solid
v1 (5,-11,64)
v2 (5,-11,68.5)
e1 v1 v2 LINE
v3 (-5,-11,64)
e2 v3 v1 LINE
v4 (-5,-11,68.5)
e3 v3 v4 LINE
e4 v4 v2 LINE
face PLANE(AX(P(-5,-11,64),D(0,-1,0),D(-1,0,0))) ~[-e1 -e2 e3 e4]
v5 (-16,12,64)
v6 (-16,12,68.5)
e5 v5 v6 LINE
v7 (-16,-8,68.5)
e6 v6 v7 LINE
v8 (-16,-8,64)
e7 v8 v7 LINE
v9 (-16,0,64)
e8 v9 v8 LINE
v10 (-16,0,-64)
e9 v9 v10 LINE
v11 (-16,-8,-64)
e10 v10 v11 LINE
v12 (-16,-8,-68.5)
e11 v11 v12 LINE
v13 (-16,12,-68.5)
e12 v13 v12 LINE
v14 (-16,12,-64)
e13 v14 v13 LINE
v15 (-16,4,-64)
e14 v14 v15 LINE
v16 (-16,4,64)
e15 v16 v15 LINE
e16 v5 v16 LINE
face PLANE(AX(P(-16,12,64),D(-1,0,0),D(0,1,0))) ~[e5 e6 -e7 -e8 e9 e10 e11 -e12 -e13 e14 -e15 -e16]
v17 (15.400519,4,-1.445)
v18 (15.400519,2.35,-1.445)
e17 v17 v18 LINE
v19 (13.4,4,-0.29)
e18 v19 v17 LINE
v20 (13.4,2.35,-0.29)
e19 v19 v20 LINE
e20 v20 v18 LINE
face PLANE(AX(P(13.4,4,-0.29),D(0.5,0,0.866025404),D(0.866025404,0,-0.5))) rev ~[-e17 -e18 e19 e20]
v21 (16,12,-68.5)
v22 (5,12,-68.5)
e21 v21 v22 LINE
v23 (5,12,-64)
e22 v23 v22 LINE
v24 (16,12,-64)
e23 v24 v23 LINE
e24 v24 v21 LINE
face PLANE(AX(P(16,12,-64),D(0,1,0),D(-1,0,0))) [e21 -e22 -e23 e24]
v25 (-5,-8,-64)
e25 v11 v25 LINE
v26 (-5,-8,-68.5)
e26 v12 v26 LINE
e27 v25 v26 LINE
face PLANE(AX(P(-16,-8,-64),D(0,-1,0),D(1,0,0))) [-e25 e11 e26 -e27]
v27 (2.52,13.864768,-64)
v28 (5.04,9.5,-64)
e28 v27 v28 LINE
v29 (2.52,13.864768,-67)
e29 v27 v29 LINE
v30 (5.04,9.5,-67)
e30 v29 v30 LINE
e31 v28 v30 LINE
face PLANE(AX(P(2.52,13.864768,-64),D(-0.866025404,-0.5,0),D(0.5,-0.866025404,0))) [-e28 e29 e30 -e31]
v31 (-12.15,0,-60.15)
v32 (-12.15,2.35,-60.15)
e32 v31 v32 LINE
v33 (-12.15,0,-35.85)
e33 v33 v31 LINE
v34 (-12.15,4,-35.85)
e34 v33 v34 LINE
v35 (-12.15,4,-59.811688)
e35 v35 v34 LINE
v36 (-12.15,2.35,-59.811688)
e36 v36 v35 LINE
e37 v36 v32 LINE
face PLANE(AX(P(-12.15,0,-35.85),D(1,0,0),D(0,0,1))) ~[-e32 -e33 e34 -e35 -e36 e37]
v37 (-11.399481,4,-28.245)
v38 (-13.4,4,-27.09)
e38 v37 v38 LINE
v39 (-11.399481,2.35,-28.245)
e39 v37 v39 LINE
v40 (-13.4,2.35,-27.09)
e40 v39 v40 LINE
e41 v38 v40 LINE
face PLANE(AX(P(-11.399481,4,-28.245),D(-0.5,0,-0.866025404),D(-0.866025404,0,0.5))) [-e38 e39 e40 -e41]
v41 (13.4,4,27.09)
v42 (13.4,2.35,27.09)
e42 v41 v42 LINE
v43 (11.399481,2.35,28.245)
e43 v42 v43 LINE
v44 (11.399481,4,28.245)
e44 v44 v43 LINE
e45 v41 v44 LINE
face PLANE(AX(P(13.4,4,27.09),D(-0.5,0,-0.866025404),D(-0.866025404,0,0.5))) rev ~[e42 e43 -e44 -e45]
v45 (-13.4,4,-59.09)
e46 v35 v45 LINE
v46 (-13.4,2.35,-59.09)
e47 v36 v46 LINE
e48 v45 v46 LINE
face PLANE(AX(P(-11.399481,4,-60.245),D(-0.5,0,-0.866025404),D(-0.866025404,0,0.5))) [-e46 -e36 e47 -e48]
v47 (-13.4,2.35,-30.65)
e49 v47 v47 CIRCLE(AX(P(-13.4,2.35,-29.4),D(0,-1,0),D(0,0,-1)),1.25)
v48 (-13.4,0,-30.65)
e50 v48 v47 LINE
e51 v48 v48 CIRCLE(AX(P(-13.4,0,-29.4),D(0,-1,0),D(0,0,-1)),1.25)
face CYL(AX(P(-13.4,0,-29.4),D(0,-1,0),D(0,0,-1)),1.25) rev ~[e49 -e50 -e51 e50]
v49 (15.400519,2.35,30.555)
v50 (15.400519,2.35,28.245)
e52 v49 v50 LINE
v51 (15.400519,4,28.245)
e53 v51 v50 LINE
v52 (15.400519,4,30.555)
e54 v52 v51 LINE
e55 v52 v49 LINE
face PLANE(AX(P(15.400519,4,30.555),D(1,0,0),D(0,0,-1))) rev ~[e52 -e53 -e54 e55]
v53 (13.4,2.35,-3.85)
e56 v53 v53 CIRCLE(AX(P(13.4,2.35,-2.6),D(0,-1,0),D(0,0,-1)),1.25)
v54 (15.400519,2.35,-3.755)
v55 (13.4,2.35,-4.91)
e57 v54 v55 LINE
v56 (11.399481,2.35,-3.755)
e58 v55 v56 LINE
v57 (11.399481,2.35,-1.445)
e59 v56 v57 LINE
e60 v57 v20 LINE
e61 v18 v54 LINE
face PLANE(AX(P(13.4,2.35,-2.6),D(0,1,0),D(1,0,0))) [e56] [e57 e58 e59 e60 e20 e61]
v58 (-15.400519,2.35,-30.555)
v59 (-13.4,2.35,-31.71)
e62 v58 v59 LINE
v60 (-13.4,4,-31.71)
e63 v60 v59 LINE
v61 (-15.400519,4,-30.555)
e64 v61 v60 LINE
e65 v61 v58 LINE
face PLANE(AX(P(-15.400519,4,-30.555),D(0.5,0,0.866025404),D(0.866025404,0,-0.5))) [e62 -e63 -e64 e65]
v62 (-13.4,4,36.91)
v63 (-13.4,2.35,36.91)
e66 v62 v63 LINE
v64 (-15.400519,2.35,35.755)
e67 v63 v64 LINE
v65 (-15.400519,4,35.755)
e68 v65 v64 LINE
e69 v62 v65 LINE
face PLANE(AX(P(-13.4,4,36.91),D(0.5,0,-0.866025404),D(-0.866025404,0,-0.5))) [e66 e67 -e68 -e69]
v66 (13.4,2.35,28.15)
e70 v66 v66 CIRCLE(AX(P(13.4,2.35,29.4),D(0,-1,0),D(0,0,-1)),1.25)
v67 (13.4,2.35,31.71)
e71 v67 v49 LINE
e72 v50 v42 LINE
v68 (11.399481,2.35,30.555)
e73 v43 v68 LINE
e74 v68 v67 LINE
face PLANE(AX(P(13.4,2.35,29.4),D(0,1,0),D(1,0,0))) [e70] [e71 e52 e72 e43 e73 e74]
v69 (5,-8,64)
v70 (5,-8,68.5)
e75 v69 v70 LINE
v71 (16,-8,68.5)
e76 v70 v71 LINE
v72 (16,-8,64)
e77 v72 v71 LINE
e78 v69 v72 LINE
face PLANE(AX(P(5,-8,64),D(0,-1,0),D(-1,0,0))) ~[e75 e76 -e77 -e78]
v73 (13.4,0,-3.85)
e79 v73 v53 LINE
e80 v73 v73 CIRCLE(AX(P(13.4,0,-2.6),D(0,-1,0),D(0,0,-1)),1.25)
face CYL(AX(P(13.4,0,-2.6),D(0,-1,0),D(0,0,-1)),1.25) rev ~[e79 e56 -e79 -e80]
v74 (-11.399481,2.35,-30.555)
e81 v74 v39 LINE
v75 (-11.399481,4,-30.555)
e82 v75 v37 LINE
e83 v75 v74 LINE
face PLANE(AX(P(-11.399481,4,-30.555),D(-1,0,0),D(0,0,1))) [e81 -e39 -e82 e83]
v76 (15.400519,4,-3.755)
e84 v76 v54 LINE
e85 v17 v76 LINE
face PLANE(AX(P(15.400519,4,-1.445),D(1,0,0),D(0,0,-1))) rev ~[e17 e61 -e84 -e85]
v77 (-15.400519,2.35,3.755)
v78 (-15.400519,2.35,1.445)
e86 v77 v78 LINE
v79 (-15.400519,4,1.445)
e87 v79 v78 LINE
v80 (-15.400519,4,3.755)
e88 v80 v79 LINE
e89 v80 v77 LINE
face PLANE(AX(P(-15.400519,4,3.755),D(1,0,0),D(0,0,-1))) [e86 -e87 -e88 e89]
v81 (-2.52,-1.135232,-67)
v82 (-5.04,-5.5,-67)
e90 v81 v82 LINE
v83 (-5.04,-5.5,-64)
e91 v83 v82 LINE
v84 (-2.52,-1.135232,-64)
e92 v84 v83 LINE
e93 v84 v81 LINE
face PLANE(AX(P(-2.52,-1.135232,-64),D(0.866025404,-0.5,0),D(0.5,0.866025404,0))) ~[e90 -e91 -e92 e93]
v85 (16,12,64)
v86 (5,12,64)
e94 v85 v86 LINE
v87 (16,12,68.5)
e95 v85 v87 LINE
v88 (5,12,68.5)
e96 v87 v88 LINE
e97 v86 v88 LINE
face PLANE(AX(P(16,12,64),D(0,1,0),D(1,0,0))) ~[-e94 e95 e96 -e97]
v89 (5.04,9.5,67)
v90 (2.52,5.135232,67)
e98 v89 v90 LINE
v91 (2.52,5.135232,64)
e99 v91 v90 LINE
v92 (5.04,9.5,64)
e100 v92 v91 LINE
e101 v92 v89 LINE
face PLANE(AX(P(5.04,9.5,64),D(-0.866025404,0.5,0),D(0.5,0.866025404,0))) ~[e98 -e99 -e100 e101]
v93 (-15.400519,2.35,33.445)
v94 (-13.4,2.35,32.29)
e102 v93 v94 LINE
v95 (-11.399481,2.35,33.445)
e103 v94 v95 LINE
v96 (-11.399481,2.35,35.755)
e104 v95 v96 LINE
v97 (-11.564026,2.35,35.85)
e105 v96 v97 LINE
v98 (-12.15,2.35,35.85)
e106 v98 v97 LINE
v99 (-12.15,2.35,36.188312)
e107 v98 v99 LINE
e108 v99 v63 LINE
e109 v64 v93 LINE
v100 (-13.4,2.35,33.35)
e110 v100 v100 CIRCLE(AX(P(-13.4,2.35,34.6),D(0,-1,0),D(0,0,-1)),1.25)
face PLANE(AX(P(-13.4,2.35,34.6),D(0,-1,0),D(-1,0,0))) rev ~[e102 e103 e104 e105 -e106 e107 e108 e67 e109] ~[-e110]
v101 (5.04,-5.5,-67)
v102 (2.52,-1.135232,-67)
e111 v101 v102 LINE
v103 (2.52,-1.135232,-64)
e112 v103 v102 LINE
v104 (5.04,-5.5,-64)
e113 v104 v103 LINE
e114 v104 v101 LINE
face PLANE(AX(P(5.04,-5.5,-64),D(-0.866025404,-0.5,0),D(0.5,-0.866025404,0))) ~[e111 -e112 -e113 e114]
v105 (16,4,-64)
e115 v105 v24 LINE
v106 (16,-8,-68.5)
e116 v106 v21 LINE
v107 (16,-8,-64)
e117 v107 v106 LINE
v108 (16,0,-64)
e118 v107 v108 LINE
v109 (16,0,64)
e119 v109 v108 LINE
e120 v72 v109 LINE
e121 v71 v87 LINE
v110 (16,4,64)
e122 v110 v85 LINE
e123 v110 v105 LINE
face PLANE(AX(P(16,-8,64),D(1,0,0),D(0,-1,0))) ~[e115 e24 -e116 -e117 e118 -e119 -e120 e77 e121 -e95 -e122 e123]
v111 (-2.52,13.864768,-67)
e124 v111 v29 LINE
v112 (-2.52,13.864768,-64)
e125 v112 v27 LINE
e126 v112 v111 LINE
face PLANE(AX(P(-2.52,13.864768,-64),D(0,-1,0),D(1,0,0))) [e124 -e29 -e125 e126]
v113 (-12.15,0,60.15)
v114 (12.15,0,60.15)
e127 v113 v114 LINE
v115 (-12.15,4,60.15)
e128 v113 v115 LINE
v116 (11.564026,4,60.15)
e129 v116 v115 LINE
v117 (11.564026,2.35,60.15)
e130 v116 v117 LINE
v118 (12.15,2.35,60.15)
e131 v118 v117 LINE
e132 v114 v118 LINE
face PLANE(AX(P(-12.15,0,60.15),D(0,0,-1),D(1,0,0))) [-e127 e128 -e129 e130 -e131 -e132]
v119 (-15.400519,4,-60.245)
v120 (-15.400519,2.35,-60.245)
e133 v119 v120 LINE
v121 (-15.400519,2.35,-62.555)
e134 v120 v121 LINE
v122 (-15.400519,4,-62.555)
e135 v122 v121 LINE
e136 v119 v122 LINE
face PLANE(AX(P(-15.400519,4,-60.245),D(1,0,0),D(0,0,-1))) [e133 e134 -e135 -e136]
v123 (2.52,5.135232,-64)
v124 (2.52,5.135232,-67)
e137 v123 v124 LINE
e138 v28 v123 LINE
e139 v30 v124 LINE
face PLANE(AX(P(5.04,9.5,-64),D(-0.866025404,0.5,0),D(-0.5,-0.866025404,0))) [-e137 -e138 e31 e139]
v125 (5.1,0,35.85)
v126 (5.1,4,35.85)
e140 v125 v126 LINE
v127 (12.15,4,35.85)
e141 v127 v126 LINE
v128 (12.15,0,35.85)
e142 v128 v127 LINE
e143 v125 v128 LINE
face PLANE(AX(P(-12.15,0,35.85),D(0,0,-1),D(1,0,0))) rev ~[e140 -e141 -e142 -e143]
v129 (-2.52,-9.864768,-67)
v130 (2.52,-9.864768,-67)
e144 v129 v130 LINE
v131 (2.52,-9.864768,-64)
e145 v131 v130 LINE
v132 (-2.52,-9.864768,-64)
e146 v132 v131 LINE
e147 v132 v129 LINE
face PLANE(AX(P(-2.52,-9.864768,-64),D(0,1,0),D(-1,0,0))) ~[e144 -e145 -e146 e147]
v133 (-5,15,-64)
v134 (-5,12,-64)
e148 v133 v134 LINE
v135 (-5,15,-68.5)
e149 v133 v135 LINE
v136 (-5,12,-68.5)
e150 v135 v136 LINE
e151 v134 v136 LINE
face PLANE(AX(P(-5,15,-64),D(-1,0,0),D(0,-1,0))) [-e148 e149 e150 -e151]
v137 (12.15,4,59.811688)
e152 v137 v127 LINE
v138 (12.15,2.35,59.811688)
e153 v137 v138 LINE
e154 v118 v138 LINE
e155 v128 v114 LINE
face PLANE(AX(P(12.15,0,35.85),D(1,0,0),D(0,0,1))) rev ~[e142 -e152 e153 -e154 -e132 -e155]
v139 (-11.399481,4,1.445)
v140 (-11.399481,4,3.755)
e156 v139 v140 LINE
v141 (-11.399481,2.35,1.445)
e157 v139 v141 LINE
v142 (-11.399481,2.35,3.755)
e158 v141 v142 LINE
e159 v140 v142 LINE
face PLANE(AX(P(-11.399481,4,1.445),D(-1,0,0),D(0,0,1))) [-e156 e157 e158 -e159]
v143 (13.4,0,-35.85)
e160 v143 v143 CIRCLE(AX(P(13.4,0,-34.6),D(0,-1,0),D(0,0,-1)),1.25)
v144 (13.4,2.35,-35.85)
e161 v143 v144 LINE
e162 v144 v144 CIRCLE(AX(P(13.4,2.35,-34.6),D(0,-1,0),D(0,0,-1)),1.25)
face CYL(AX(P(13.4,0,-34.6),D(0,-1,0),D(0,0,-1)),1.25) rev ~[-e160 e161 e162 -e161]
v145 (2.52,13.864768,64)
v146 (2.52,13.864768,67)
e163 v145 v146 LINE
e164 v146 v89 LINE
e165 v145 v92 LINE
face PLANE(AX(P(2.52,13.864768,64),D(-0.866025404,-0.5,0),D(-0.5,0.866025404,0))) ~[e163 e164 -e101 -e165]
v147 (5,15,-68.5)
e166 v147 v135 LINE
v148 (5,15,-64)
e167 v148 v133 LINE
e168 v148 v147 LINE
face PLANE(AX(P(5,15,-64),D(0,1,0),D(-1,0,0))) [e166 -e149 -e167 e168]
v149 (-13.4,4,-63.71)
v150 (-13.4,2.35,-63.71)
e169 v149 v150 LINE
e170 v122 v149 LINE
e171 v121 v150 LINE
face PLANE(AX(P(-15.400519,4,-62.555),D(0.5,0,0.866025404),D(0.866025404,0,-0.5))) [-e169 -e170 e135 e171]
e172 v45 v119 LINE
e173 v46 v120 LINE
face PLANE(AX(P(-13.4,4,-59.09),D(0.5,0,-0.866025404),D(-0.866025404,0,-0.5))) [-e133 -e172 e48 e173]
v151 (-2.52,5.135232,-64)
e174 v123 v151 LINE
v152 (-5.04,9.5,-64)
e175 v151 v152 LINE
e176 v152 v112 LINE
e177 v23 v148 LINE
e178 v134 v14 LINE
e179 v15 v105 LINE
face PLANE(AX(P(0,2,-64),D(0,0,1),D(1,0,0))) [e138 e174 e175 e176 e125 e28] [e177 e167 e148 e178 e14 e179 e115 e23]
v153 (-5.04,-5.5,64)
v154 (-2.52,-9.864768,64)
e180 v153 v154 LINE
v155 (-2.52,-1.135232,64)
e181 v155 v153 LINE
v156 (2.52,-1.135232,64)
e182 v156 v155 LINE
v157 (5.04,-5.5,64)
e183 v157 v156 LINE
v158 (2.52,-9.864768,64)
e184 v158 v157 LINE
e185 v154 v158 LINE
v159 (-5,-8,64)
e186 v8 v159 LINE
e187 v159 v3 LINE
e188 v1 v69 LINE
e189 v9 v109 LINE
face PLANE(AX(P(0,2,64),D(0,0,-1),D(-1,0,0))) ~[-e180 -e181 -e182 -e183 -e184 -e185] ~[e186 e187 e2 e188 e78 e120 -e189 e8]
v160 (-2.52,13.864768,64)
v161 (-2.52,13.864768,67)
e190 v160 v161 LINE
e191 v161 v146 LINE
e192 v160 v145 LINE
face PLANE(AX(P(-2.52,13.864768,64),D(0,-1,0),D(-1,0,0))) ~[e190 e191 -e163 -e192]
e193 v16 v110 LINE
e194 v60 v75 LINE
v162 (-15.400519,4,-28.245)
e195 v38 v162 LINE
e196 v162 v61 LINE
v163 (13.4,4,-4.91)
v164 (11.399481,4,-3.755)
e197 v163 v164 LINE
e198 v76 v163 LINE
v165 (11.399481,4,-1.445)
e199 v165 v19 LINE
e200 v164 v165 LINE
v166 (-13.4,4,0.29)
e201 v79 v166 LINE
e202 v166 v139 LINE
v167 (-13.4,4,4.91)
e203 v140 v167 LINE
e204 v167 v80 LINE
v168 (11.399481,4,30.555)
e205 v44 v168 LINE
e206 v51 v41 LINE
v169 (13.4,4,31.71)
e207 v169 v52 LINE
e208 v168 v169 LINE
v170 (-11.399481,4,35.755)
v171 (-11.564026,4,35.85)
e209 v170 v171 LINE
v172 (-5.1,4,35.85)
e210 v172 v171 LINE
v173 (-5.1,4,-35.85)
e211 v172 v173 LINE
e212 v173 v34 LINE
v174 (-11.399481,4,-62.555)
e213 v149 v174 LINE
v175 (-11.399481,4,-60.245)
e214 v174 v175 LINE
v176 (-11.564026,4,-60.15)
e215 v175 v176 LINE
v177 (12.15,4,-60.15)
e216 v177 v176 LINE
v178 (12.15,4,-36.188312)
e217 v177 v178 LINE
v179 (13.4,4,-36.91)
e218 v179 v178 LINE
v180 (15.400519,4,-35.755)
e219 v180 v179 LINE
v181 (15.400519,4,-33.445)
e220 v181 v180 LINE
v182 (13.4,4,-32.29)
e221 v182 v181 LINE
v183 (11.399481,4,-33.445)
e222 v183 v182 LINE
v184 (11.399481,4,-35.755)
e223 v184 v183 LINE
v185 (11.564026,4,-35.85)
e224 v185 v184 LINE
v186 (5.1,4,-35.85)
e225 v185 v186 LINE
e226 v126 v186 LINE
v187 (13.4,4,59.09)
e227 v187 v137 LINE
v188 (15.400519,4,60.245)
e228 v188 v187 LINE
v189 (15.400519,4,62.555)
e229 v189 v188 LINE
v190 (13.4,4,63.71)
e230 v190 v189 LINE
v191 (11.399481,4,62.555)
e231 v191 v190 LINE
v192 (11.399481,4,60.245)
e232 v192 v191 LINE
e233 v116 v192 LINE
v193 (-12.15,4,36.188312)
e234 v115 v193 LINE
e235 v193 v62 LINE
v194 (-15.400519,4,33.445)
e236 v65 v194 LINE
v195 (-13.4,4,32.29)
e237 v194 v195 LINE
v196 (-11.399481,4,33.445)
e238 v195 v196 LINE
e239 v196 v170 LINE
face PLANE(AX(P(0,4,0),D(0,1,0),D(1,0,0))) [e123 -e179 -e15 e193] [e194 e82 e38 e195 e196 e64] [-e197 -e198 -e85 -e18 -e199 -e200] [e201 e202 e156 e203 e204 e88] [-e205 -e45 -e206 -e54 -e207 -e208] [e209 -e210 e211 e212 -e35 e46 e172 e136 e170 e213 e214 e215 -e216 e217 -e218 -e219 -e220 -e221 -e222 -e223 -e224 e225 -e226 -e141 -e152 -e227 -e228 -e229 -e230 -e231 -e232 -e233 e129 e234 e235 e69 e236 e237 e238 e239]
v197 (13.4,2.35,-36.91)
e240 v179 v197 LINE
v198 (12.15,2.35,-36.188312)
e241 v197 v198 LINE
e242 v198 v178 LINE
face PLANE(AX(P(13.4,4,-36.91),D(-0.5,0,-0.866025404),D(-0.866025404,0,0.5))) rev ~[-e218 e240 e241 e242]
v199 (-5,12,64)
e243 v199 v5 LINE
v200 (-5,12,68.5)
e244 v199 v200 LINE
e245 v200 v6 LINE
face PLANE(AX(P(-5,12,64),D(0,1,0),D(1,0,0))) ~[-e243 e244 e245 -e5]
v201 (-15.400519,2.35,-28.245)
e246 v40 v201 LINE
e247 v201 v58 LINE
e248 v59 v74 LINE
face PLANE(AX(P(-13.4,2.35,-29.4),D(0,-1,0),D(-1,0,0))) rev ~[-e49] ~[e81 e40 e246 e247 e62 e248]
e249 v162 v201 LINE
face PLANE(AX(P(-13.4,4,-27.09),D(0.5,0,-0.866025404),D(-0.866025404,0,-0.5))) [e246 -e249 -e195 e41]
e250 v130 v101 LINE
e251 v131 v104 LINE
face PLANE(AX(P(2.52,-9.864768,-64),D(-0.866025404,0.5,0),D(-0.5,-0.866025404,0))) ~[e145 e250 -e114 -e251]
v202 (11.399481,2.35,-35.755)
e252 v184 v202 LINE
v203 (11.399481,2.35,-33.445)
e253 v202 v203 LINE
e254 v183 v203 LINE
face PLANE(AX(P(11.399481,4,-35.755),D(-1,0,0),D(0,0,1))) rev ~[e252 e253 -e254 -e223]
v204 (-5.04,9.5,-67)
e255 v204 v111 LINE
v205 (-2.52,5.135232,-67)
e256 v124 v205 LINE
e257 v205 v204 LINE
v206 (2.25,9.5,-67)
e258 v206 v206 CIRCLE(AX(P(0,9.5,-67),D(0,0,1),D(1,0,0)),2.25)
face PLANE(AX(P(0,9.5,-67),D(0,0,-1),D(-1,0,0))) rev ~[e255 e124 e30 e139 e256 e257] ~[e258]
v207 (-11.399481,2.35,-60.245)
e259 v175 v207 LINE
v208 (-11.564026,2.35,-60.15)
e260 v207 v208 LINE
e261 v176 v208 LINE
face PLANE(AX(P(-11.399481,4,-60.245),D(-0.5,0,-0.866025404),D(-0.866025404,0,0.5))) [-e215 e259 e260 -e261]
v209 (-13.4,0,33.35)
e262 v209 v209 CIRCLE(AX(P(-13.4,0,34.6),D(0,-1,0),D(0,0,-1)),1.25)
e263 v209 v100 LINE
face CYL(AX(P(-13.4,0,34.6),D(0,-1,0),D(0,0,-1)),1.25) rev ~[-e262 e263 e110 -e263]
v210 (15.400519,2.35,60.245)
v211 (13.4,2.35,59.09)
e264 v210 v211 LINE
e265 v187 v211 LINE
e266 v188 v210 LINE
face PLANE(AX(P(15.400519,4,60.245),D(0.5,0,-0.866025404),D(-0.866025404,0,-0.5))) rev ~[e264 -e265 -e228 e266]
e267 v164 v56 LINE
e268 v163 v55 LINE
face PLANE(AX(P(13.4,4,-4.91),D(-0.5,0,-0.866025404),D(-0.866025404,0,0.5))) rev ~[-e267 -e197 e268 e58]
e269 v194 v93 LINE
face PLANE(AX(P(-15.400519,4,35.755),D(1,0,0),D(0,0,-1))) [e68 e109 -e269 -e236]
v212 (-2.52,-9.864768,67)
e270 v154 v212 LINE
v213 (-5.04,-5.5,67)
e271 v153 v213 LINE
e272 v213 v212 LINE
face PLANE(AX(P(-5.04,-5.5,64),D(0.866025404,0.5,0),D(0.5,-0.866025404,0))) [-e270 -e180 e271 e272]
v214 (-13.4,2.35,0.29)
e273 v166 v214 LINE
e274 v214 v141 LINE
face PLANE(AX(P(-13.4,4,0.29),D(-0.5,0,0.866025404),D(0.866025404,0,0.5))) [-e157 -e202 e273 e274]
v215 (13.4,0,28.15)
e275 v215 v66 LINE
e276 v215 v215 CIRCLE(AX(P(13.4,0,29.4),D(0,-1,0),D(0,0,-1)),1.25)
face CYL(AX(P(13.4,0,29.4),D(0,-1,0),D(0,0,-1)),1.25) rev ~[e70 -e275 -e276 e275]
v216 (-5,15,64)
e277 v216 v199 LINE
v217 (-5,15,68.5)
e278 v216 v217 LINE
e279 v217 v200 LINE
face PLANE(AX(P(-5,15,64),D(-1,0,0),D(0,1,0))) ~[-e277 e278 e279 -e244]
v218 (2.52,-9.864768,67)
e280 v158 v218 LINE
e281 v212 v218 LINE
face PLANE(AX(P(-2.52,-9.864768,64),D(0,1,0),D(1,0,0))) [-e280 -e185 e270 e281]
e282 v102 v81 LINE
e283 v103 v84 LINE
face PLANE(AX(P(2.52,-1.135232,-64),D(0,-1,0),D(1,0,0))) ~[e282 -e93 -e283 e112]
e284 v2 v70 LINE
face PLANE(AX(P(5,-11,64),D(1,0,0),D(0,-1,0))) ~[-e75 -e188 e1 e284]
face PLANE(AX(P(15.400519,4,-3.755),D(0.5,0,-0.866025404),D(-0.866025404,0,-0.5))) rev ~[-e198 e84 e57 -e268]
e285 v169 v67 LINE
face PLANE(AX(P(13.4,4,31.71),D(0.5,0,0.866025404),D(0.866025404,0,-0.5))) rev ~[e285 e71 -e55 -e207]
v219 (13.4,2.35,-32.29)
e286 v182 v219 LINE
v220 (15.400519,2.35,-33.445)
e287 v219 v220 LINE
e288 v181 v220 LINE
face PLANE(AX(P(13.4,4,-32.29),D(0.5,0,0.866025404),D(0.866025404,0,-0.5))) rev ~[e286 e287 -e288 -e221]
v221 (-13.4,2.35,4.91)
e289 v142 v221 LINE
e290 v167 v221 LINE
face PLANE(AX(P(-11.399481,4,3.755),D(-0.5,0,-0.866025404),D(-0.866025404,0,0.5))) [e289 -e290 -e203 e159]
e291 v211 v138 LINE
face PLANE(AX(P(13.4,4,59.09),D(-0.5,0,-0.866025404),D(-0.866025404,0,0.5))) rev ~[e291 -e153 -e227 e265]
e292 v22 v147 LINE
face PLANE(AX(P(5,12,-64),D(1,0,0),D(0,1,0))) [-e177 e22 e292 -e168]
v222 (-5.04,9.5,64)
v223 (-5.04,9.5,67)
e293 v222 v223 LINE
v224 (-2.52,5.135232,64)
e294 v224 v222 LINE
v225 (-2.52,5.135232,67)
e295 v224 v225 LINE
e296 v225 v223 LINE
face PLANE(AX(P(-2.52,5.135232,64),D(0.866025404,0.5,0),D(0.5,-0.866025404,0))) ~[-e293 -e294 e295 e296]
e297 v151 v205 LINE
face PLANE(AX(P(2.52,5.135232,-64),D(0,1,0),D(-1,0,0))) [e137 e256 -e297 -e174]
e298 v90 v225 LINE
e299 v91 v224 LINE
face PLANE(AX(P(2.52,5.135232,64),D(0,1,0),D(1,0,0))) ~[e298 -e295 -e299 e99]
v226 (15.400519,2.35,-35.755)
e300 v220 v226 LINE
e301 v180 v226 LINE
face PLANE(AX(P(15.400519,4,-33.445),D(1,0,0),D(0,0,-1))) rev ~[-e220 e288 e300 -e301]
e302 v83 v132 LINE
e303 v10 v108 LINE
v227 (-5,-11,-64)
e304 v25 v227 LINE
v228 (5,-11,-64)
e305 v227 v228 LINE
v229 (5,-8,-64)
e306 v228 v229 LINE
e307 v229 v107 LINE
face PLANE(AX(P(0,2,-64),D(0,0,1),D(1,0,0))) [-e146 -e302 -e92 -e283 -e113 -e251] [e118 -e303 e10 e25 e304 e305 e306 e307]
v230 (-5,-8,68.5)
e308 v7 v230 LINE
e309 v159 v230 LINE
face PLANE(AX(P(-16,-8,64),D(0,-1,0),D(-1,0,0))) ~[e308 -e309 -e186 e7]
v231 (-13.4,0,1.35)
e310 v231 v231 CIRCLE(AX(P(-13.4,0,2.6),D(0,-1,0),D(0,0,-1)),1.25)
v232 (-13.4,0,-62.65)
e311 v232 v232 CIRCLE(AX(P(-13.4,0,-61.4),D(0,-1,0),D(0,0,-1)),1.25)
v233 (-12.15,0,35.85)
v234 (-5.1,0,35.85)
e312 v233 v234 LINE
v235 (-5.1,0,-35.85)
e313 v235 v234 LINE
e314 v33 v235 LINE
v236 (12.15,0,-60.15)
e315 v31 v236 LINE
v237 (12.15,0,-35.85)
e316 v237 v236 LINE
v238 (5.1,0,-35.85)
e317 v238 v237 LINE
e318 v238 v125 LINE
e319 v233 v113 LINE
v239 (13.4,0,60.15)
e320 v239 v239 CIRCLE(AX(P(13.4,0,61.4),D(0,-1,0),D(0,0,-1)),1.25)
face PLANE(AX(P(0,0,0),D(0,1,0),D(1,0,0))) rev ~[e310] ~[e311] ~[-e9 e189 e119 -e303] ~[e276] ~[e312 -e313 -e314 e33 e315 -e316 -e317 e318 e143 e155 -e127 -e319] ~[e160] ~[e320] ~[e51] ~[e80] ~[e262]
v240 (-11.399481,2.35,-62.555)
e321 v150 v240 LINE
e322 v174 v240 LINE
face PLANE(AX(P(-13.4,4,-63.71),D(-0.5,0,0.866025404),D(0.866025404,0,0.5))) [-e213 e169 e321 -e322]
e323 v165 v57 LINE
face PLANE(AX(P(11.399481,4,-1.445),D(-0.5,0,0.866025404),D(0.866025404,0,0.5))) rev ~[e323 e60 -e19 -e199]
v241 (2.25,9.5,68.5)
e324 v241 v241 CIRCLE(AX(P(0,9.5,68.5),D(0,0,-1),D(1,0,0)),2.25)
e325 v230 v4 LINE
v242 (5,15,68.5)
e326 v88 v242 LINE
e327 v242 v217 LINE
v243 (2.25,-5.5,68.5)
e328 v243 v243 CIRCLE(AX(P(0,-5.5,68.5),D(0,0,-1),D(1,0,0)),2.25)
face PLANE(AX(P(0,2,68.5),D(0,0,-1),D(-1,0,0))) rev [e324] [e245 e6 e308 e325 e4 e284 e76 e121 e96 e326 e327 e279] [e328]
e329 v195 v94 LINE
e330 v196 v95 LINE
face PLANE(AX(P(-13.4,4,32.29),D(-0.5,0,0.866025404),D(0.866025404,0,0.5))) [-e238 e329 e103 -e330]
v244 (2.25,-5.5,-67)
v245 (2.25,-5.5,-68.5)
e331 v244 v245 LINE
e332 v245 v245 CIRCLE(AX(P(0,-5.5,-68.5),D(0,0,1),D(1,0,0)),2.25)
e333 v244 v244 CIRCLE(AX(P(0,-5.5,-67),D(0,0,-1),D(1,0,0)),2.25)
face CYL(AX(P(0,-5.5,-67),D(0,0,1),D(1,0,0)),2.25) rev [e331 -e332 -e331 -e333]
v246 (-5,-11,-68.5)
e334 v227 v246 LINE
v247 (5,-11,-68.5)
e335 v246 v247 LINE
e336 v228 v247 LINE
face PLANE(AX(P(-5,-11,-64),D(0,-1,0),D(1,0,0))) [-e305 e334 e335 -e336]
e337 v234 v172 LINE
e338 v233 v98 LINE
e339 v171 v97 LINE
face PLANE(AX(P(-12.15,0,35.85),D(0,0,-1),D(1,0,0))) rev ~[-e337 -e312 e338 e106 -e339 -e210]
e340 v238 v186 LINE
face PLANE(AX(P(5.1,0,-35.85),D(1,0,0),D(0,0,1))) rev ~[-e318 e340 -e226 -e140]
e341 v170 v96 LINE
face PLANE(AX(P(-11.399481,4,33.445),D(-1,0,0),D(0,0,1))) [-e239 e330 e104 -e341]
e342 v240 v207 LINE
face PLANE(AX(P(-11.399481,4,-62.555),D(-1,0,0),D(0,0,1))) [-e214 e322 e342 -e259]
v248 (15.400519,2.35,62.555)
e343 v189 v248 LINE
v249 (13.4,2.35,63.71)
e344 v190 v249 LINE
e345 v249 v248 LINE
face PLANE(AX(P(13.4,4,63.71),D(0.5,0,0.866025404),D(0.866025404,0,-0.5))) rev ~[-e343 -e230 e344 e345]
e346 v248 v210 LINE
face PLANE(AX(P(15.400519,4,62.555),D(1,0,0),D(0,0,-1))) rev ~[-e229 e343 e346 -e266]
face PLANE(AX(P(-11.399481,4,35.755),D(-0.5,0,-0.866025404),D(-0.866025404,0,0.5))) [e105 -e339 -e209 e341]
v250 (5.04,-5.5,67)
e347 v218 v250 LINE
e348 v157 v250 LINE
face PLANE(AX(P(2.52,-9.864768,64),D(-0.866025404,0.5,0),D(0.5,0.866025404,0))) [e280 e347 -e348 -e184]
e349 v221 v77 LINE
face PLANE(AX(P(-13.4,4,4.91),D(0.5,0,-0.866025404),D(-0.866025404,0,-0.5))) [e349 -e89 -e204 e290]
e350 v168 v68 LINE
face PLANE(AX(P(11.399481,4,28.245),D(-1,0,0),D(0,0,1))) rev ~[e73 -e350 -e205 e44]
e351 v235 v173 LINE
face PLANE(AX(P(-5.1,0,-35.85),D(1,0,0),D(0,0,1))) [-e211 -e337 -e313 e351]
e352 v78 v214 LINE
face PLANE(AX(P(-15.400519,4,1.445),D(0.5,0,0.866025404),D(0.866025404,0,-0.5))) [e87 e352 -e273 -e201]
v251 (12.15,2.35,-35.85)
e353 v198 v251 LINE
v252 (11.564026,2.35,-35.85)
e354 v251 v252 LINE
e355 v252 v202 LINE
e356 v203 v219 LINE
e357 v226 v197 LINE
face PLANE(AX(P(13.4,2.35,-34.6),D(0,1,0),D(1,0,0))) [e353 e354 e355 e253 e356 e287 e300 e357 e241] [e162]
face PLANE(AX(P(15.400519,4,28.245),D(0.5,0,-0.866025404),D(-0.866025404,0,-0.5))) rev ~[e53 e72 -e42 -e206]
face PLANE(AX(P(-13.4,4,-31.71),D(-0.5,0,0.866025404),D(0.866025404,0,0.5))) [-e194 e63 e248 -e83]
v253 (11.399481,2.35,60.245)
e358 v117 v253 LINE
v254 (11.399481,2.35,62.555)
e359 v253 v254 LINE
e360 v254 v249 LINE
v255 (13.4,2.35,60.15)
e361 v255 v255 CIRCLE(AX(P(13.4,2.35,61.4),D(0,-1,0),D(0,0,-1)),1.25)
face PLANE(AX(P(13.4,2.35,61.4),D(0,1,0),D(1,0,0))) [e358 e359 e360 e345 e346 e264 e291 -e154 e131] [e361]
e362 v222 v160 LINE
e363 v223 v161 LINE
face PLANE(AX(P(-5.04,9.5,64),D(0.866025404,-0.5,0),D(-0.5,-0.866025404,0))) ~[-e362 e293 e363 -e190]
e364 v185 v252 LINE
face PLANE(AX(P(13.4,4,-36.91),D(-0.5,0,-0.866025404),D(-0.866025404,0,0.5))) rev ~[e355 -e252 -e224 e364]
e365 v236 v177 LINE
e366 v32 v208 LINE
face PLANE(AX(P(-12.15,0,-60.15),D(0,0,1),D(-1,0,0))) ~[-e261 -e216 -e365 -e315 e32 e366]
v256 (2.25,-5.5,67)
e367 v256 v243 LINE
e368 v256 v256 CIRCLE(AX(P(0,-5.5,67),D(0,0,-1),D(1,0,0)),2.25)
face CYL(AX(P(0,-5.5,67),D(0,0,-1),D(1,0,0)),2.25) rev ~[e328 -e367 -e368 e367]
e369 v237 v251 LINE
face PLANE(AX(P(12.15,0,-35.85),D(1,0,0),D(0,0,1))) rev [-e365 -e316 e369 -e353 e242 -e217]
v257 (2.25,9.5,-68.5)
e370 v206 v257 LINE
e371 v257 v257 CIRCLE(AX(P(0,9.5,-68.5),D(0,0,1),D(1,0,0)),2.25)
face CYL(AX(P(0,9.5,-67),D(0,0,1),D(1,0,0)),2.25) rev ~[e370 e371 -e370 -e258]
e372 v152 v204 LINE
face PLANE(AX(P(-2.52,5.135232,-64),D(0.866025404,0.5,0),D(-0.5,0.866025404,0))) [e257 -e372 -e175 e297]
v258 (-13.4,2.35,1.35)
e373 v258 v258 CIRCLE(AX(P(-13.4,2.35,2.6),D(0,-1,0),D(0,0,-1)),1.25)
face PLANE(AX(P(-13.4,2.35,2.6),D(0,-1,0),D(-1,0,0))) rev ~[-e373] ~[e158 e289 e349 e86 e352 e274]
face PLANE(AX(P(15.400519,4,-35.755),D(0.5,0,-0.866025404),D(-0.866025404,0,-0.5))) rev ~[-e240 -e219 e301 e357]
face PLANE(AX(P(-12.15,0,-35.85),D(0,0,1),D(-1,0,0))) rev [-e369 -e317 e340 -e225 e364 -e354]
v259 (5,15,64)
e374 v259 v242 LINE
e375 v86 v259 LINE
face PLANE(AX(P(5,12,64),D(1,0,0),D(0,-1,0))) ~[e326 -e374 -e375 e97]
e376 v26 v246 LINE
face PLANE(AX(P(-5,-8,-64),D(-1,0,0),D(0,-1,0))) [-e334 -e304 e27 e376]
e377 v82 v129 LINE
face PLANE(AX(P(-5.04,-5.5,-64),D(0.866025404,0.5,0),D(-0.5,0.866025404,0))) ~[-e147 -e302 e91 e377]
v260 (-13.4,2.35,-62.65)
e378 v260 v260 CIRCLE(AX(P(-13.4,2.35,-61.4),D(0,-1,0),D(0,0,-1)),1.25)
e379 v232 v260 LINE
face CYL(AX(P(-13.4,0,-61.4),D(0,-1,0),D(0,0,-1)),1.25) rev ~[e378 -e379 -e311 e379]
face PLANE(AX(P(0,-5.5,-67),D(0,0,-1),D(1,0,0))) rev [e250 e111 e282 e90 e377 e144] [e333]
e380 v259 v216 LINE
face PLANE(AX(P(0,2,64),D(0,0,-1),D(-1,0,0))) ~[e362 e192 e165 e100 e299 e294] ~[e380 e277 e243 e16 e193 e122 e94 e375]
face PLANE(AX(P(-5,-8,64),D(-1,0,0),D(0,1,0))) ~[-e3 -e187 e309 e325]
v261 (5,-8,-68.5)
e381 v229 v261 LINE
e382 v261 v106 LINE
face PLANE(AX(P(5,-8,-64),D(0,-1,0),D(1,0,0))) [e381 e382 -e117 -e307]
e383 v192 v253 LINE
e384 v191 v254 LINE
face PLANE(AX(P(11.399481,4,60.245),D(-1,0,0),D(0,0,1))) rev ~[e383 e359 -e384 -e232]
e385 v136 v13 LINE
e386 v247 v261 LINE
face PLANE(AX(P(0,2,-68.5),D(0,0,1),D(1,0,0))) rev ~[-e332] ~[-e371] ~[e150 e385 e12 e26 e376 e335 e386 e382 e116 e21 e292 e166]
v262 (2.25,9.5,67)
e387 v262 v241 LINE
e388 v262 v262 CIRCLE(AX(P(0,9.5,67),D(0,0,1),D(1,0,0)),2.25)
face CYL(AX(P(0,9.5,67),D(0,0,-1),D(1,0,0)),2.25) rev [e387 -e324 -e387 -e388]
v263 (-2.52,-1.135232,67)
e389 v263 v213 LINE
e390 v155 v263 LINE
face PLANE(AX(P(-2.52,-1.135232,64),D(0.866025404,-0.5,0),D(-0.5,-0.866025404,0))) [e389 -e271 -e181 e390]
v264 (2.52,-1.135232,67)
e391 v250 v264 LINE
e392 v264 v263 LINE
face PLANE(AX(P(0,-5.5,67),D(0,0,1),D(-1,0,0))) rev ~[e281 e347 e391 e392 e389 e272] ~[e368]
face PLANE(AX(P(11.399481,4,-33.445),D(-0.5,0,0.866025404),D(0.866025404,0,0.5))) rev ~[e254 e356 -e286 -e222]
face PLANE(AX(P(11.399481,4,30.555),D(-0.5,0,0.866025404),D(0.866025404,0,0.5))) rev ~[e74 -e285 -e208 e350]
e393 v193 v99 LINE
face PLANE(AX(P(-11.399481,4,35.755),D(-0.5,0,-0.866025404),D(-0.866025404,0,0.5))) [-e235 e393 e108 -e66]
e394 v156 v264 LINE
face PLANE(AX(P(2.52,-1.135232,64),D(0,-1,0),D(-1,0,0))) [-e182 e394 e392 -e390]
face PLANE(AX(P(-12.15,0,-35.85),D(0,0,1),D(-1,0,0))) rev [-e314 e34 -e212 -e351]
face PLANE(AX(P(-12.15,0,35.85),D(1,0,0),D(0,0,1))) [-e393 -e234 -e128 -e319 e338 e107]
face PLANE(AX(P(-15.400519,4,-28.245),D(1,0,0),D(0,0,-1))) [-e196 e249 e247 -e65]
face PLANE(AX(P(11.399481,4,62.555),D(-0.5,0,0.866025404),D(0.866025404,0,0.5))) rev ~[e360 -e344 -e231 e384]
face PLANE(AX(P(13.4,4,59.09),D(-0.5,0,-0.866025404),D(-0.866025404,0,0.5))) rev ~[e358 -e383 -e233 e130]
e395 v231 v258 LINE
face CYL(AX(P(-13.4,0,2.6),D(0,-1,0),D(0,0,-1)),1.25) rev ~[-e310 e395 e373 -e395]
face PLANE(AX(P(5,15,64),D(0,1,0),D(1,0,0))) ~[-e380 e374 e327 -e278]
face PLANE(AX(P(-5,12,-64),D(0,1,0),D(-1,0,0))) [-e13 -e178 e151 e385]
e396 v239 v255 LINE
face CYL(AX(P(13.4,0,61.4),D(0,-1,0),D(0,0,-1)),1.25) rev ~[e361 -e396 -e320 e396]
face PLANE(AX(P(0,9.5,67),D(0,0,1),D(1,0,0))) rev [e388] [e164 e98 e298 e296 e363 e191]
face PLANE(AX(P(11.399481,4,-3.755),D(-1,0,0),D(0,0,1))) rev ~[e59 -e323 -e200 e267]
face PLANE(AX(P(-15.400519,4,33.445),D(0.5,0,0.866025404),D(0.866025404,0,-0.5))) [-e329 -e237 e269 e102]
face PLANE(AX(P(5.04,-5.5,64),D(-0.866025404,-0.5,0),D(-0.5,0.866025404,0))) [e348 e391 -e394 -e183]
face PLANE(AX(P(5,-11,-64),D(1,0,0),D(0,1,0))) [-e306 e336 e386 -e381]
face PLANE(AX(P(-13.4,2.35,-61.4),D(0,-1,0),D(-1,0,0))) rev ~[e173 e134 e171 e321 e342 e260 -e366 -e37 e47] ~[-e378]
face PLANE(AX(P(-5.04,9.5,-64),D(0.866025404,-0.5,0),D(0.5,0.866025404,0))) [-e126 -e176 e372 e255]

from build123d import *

# Parameters (mm, degrees)
SKETCH1_W               = 32
SKETCH1_H               = 128
BOSS_EXTRUDE1_DEPTH     = 4
SKETCH4_R               = 1.25
CUT_EXTRUDE2_DEPTH      = 10
SKETCH5_R               = 1.25
CUT_EXTRUDE3_DEPTH      = 10
CUT_EXTRUDE4_DEPTH      = 1.65
LPATTERN3_COUNT         = 4
LPATTERN3_PITCH         = 32
CUT_EXTRUDE5_DEPTH      = 1.65
LPATTERN4_COUNT         = 4
LPATTERN4_PITCH         = 32
SKETCH8_W               = 24.3
SKETCH8_H               = 24.3
CUT_EXTRUDE6_DEPTH      = 10
BOSS_EXTRUDE2_DEPTH     = 4.5
SKETCH11_W              = 10.2
SKETCH11_H              = 71.7
CUT_EXTRUDE7_DEPTH      = 72.92530848
CUT_EXTRUDE8_DEPTH      = 3
SKETCH12_R              = 2.25
CUT_EXTRUDE9_DEPTH      = 3
MIRROR3_COPY_1_DEPTH    = 3
MIRROR3_COPY_2_SKETCH_R = 2.25
MIRROR3_COPY_2_DEPTH    = 3


with BuildPart() as part:
    # Sketch1 → Boss-Extrude1 (new body)
    with BuildSketch(Plane(origin=(0, 0, 0), x_dir=(1, 0, 0), z_dir=(0, 1, 0))):
        Rectangle(SKETCH1_W, SKETCH1_H)
    extrude(amount=BOSS_EXTRUDE1_DEPTH)

    # Sketch4 → Cut-Extrude2 (cut)
    with BuildSketch(Plane.XZ):
        with Locations(Location((13.4, 61.4, 0), (0, 0, 270))):
            Circle(SKETCH4_R)
    cut_extrude2 = extrude(amount=-CUT_EXTRUDE2_DEPTH, mode=Mode.SUBTRACT)

    # Sketch5 → Cut-Extrude3 (cut)
    with BuildSketch(Plane.XZ):
        with Locations(Location((-13.4, -61.4, 0), (0, 0, 270))):
            Circle(SKETCH5_R)
    cut_extrude3 = extrude(amount=-CUT_EXTRUDE3_DEPTH, mode=Mode.SUBTRACT)

    # Sketch6 → Cut-Extrude4 (cut)
    with BuildSketch(Plane(origin=(0, 4, 0), x_dir=(1, 0, 0), z_dir=(0, 1, 0))):
        Polygon((-15.400518683, 62.555), (-13.4, 63.71), (-11.399481317, 62.555), (-11.399481317, 60.245), (-13.4, 59.09), (-15.400518683, 60.245), align=None)
    cut_extrude4 = extrude(amount=-CUT_EXTRUDE4_DEPTH, mode=Mode.SUBTRACT)

    # LPattern3: Cut-Extrude3, Cut-Extrude4 ×4
    with Locations(*[(0, 0, i * LPATTERN3_PITCH) for i in range(1, LPATTERN3_COUNT)]):
        add(cut_extrude3, mode=Mode.SUBTRACT)
        add(cut_extrude4, mode=Mode.SUBTRACT)

    # Sketch7 → Cut-Extrude5 (cut)
    with BuildSketch(Plane(origin=(0, 4, 0), x_dir=(1, 0, 0), z_dir=(0, 1, 0))):
        Polygon((13.4, -59.09), (11.399481317, -60.245), (11.399481317, -62.555), (13.4, -63.71), (15.400518683, -62.555), (15.400518683, -60.245), align=None)
    cut_extrude5 = extrude(amount=-CUT_EXTRUDE5_DEPTH, mode=Mode.SUBTRACT)

    # LPattern4: Cut-Extrude2, Cut-Extrude5 ×4
    with Locations(*[(0, 0, -i * LPATTERN4_PITCH) for i in range(1, LPATTERN4_COUNT)]):
        add(cut_extrude2, mode=Mode.SUBTRACT)
        add(cut_extrude5, mode=Mode.SUBTRACT)

    # Sketch8 → Cut-Extrude6 (cut)
    with BuildSketch(Plane.XZ):
        with Locations((0, 48)):
            Rectangle(SKETCH8_W, SKETCH8_H)
    cut_extrude6 = extrude(amount=-CUT_EXTRUDE6_DEPTH, mode=Mode.SUBTRACT)

    # Mirror1: Cut-Extrude6 across plane
    add(cut_extrude6.mirror(Plane.XY), mode=Mode.SUBTRACT)

    # Sketch9 → Boss-Extrude2 (add)
    with BuildSketch(Plane(origin=(0, 0, -64), x_dir=(-1, 0, 0), z_dir=(0, 0, -1))):
        Polygon((-16, 12), (-5, 12), (-5, 15), (5, 15), (5, 12), (16, 12), (16, -8), (5, -8), (5, -11), (-5, -11), (-5, -8), (-16, -8), align=None)
    boss_extrude2 = extrude(amount=BOSS_EXTRUDE2_DEPTH)

    # Sketch11 → Cut-Extrude7 (cut, through all)
    with BuildSketch(Plane.XZ):
        Rectangle(SKETCH11_W, SKETCH11_H)
    extrude(amount=-CUT_EXTRUDE7_DEPTH, mode=Mode.SUBTRACT)

    # Sketch10 → Cut-Extrude8 (cut)
    with BuildSketch(Plane.XY.offset(-64)):
        Polygon((-2.52, 13.864768035), (2.52, 13.864768035), (5.04, 9.5), (2.52, 5.135231965), (-2.52, 5.135231965), (-5.04, 9.5), align=None)
    cut_extrude8 = extrude(amount=-CUT_EXTRUDE8_DEPTH, mode=Mode.SUBTRACT)

    # Sketch12 → Cut-Extrude9 (cut)
    with BuildSketch(Plane.XY.offset(-67)):
        with Locations((0, 9.5)):
            Circle(SKETCH12_R)
    cut_extrude9 = extrude(amount=-CUT_EXTRUDE9_DEPTH, mode=Mode.SUBTRACT)

    # Mirror2: Cut-Extrude8, Cut-Extrude9 across plane
    add(cut_extrude8.mirror(Plane.ZX.offset(2)), mode=Mode.SUBTRACT)
    add(cut_extrude9.mirror(Plane.ZX.offset(2)), mode=Mode.SUBTRACT)

    # Mirror3: Boss-Extrude2, Cut-Extrude8, Cut-Extrude9 across plane
    add(boss_extrude2.mirror(Plane.XY))
    add(cut_extrude8.mirror(Plane.XY), mode=Mode.SUBTRACT)
    add(cut_extrude9.mirror(Plane.XY), mode=Mode.SUBTRACT)

    # Mirror3 copy 1 sketch → Mirror3 copy 1 (cut)
    with BuildSketch(Plane(origin=(0, 4, 64), x_dir=(1, 0, 0), z_dir=(0, 0, -1))):
        Polygon((-2.52, 13.864768035), (2.52, 13.864768035), (5.04, 9.5), (2.52, 5.135231965), (-2.52, 5.135231965), (-5.04, 9.5), align=None)
    extrude(amount=-MIRROR3_COPY_1_DEPTH, mode=Mode.SUBTRACT)

    # Mirror3 copy 2 sketch → Mirror3 copy 2 (cut)
    with BuildSketch(Plane(origin=(0, 4, 67), x_dir=(1, 0, 0), z_dir=(0, 0, -1))):
        with Locations((0, 9.5)):
            Circle(MIRROR3_COPY_2_SKETCH_R)
    extrude(amount=-MIRROR3_COPY_2_DEPTH, mode=Mode.SUBTRACT)


solid = part.part
